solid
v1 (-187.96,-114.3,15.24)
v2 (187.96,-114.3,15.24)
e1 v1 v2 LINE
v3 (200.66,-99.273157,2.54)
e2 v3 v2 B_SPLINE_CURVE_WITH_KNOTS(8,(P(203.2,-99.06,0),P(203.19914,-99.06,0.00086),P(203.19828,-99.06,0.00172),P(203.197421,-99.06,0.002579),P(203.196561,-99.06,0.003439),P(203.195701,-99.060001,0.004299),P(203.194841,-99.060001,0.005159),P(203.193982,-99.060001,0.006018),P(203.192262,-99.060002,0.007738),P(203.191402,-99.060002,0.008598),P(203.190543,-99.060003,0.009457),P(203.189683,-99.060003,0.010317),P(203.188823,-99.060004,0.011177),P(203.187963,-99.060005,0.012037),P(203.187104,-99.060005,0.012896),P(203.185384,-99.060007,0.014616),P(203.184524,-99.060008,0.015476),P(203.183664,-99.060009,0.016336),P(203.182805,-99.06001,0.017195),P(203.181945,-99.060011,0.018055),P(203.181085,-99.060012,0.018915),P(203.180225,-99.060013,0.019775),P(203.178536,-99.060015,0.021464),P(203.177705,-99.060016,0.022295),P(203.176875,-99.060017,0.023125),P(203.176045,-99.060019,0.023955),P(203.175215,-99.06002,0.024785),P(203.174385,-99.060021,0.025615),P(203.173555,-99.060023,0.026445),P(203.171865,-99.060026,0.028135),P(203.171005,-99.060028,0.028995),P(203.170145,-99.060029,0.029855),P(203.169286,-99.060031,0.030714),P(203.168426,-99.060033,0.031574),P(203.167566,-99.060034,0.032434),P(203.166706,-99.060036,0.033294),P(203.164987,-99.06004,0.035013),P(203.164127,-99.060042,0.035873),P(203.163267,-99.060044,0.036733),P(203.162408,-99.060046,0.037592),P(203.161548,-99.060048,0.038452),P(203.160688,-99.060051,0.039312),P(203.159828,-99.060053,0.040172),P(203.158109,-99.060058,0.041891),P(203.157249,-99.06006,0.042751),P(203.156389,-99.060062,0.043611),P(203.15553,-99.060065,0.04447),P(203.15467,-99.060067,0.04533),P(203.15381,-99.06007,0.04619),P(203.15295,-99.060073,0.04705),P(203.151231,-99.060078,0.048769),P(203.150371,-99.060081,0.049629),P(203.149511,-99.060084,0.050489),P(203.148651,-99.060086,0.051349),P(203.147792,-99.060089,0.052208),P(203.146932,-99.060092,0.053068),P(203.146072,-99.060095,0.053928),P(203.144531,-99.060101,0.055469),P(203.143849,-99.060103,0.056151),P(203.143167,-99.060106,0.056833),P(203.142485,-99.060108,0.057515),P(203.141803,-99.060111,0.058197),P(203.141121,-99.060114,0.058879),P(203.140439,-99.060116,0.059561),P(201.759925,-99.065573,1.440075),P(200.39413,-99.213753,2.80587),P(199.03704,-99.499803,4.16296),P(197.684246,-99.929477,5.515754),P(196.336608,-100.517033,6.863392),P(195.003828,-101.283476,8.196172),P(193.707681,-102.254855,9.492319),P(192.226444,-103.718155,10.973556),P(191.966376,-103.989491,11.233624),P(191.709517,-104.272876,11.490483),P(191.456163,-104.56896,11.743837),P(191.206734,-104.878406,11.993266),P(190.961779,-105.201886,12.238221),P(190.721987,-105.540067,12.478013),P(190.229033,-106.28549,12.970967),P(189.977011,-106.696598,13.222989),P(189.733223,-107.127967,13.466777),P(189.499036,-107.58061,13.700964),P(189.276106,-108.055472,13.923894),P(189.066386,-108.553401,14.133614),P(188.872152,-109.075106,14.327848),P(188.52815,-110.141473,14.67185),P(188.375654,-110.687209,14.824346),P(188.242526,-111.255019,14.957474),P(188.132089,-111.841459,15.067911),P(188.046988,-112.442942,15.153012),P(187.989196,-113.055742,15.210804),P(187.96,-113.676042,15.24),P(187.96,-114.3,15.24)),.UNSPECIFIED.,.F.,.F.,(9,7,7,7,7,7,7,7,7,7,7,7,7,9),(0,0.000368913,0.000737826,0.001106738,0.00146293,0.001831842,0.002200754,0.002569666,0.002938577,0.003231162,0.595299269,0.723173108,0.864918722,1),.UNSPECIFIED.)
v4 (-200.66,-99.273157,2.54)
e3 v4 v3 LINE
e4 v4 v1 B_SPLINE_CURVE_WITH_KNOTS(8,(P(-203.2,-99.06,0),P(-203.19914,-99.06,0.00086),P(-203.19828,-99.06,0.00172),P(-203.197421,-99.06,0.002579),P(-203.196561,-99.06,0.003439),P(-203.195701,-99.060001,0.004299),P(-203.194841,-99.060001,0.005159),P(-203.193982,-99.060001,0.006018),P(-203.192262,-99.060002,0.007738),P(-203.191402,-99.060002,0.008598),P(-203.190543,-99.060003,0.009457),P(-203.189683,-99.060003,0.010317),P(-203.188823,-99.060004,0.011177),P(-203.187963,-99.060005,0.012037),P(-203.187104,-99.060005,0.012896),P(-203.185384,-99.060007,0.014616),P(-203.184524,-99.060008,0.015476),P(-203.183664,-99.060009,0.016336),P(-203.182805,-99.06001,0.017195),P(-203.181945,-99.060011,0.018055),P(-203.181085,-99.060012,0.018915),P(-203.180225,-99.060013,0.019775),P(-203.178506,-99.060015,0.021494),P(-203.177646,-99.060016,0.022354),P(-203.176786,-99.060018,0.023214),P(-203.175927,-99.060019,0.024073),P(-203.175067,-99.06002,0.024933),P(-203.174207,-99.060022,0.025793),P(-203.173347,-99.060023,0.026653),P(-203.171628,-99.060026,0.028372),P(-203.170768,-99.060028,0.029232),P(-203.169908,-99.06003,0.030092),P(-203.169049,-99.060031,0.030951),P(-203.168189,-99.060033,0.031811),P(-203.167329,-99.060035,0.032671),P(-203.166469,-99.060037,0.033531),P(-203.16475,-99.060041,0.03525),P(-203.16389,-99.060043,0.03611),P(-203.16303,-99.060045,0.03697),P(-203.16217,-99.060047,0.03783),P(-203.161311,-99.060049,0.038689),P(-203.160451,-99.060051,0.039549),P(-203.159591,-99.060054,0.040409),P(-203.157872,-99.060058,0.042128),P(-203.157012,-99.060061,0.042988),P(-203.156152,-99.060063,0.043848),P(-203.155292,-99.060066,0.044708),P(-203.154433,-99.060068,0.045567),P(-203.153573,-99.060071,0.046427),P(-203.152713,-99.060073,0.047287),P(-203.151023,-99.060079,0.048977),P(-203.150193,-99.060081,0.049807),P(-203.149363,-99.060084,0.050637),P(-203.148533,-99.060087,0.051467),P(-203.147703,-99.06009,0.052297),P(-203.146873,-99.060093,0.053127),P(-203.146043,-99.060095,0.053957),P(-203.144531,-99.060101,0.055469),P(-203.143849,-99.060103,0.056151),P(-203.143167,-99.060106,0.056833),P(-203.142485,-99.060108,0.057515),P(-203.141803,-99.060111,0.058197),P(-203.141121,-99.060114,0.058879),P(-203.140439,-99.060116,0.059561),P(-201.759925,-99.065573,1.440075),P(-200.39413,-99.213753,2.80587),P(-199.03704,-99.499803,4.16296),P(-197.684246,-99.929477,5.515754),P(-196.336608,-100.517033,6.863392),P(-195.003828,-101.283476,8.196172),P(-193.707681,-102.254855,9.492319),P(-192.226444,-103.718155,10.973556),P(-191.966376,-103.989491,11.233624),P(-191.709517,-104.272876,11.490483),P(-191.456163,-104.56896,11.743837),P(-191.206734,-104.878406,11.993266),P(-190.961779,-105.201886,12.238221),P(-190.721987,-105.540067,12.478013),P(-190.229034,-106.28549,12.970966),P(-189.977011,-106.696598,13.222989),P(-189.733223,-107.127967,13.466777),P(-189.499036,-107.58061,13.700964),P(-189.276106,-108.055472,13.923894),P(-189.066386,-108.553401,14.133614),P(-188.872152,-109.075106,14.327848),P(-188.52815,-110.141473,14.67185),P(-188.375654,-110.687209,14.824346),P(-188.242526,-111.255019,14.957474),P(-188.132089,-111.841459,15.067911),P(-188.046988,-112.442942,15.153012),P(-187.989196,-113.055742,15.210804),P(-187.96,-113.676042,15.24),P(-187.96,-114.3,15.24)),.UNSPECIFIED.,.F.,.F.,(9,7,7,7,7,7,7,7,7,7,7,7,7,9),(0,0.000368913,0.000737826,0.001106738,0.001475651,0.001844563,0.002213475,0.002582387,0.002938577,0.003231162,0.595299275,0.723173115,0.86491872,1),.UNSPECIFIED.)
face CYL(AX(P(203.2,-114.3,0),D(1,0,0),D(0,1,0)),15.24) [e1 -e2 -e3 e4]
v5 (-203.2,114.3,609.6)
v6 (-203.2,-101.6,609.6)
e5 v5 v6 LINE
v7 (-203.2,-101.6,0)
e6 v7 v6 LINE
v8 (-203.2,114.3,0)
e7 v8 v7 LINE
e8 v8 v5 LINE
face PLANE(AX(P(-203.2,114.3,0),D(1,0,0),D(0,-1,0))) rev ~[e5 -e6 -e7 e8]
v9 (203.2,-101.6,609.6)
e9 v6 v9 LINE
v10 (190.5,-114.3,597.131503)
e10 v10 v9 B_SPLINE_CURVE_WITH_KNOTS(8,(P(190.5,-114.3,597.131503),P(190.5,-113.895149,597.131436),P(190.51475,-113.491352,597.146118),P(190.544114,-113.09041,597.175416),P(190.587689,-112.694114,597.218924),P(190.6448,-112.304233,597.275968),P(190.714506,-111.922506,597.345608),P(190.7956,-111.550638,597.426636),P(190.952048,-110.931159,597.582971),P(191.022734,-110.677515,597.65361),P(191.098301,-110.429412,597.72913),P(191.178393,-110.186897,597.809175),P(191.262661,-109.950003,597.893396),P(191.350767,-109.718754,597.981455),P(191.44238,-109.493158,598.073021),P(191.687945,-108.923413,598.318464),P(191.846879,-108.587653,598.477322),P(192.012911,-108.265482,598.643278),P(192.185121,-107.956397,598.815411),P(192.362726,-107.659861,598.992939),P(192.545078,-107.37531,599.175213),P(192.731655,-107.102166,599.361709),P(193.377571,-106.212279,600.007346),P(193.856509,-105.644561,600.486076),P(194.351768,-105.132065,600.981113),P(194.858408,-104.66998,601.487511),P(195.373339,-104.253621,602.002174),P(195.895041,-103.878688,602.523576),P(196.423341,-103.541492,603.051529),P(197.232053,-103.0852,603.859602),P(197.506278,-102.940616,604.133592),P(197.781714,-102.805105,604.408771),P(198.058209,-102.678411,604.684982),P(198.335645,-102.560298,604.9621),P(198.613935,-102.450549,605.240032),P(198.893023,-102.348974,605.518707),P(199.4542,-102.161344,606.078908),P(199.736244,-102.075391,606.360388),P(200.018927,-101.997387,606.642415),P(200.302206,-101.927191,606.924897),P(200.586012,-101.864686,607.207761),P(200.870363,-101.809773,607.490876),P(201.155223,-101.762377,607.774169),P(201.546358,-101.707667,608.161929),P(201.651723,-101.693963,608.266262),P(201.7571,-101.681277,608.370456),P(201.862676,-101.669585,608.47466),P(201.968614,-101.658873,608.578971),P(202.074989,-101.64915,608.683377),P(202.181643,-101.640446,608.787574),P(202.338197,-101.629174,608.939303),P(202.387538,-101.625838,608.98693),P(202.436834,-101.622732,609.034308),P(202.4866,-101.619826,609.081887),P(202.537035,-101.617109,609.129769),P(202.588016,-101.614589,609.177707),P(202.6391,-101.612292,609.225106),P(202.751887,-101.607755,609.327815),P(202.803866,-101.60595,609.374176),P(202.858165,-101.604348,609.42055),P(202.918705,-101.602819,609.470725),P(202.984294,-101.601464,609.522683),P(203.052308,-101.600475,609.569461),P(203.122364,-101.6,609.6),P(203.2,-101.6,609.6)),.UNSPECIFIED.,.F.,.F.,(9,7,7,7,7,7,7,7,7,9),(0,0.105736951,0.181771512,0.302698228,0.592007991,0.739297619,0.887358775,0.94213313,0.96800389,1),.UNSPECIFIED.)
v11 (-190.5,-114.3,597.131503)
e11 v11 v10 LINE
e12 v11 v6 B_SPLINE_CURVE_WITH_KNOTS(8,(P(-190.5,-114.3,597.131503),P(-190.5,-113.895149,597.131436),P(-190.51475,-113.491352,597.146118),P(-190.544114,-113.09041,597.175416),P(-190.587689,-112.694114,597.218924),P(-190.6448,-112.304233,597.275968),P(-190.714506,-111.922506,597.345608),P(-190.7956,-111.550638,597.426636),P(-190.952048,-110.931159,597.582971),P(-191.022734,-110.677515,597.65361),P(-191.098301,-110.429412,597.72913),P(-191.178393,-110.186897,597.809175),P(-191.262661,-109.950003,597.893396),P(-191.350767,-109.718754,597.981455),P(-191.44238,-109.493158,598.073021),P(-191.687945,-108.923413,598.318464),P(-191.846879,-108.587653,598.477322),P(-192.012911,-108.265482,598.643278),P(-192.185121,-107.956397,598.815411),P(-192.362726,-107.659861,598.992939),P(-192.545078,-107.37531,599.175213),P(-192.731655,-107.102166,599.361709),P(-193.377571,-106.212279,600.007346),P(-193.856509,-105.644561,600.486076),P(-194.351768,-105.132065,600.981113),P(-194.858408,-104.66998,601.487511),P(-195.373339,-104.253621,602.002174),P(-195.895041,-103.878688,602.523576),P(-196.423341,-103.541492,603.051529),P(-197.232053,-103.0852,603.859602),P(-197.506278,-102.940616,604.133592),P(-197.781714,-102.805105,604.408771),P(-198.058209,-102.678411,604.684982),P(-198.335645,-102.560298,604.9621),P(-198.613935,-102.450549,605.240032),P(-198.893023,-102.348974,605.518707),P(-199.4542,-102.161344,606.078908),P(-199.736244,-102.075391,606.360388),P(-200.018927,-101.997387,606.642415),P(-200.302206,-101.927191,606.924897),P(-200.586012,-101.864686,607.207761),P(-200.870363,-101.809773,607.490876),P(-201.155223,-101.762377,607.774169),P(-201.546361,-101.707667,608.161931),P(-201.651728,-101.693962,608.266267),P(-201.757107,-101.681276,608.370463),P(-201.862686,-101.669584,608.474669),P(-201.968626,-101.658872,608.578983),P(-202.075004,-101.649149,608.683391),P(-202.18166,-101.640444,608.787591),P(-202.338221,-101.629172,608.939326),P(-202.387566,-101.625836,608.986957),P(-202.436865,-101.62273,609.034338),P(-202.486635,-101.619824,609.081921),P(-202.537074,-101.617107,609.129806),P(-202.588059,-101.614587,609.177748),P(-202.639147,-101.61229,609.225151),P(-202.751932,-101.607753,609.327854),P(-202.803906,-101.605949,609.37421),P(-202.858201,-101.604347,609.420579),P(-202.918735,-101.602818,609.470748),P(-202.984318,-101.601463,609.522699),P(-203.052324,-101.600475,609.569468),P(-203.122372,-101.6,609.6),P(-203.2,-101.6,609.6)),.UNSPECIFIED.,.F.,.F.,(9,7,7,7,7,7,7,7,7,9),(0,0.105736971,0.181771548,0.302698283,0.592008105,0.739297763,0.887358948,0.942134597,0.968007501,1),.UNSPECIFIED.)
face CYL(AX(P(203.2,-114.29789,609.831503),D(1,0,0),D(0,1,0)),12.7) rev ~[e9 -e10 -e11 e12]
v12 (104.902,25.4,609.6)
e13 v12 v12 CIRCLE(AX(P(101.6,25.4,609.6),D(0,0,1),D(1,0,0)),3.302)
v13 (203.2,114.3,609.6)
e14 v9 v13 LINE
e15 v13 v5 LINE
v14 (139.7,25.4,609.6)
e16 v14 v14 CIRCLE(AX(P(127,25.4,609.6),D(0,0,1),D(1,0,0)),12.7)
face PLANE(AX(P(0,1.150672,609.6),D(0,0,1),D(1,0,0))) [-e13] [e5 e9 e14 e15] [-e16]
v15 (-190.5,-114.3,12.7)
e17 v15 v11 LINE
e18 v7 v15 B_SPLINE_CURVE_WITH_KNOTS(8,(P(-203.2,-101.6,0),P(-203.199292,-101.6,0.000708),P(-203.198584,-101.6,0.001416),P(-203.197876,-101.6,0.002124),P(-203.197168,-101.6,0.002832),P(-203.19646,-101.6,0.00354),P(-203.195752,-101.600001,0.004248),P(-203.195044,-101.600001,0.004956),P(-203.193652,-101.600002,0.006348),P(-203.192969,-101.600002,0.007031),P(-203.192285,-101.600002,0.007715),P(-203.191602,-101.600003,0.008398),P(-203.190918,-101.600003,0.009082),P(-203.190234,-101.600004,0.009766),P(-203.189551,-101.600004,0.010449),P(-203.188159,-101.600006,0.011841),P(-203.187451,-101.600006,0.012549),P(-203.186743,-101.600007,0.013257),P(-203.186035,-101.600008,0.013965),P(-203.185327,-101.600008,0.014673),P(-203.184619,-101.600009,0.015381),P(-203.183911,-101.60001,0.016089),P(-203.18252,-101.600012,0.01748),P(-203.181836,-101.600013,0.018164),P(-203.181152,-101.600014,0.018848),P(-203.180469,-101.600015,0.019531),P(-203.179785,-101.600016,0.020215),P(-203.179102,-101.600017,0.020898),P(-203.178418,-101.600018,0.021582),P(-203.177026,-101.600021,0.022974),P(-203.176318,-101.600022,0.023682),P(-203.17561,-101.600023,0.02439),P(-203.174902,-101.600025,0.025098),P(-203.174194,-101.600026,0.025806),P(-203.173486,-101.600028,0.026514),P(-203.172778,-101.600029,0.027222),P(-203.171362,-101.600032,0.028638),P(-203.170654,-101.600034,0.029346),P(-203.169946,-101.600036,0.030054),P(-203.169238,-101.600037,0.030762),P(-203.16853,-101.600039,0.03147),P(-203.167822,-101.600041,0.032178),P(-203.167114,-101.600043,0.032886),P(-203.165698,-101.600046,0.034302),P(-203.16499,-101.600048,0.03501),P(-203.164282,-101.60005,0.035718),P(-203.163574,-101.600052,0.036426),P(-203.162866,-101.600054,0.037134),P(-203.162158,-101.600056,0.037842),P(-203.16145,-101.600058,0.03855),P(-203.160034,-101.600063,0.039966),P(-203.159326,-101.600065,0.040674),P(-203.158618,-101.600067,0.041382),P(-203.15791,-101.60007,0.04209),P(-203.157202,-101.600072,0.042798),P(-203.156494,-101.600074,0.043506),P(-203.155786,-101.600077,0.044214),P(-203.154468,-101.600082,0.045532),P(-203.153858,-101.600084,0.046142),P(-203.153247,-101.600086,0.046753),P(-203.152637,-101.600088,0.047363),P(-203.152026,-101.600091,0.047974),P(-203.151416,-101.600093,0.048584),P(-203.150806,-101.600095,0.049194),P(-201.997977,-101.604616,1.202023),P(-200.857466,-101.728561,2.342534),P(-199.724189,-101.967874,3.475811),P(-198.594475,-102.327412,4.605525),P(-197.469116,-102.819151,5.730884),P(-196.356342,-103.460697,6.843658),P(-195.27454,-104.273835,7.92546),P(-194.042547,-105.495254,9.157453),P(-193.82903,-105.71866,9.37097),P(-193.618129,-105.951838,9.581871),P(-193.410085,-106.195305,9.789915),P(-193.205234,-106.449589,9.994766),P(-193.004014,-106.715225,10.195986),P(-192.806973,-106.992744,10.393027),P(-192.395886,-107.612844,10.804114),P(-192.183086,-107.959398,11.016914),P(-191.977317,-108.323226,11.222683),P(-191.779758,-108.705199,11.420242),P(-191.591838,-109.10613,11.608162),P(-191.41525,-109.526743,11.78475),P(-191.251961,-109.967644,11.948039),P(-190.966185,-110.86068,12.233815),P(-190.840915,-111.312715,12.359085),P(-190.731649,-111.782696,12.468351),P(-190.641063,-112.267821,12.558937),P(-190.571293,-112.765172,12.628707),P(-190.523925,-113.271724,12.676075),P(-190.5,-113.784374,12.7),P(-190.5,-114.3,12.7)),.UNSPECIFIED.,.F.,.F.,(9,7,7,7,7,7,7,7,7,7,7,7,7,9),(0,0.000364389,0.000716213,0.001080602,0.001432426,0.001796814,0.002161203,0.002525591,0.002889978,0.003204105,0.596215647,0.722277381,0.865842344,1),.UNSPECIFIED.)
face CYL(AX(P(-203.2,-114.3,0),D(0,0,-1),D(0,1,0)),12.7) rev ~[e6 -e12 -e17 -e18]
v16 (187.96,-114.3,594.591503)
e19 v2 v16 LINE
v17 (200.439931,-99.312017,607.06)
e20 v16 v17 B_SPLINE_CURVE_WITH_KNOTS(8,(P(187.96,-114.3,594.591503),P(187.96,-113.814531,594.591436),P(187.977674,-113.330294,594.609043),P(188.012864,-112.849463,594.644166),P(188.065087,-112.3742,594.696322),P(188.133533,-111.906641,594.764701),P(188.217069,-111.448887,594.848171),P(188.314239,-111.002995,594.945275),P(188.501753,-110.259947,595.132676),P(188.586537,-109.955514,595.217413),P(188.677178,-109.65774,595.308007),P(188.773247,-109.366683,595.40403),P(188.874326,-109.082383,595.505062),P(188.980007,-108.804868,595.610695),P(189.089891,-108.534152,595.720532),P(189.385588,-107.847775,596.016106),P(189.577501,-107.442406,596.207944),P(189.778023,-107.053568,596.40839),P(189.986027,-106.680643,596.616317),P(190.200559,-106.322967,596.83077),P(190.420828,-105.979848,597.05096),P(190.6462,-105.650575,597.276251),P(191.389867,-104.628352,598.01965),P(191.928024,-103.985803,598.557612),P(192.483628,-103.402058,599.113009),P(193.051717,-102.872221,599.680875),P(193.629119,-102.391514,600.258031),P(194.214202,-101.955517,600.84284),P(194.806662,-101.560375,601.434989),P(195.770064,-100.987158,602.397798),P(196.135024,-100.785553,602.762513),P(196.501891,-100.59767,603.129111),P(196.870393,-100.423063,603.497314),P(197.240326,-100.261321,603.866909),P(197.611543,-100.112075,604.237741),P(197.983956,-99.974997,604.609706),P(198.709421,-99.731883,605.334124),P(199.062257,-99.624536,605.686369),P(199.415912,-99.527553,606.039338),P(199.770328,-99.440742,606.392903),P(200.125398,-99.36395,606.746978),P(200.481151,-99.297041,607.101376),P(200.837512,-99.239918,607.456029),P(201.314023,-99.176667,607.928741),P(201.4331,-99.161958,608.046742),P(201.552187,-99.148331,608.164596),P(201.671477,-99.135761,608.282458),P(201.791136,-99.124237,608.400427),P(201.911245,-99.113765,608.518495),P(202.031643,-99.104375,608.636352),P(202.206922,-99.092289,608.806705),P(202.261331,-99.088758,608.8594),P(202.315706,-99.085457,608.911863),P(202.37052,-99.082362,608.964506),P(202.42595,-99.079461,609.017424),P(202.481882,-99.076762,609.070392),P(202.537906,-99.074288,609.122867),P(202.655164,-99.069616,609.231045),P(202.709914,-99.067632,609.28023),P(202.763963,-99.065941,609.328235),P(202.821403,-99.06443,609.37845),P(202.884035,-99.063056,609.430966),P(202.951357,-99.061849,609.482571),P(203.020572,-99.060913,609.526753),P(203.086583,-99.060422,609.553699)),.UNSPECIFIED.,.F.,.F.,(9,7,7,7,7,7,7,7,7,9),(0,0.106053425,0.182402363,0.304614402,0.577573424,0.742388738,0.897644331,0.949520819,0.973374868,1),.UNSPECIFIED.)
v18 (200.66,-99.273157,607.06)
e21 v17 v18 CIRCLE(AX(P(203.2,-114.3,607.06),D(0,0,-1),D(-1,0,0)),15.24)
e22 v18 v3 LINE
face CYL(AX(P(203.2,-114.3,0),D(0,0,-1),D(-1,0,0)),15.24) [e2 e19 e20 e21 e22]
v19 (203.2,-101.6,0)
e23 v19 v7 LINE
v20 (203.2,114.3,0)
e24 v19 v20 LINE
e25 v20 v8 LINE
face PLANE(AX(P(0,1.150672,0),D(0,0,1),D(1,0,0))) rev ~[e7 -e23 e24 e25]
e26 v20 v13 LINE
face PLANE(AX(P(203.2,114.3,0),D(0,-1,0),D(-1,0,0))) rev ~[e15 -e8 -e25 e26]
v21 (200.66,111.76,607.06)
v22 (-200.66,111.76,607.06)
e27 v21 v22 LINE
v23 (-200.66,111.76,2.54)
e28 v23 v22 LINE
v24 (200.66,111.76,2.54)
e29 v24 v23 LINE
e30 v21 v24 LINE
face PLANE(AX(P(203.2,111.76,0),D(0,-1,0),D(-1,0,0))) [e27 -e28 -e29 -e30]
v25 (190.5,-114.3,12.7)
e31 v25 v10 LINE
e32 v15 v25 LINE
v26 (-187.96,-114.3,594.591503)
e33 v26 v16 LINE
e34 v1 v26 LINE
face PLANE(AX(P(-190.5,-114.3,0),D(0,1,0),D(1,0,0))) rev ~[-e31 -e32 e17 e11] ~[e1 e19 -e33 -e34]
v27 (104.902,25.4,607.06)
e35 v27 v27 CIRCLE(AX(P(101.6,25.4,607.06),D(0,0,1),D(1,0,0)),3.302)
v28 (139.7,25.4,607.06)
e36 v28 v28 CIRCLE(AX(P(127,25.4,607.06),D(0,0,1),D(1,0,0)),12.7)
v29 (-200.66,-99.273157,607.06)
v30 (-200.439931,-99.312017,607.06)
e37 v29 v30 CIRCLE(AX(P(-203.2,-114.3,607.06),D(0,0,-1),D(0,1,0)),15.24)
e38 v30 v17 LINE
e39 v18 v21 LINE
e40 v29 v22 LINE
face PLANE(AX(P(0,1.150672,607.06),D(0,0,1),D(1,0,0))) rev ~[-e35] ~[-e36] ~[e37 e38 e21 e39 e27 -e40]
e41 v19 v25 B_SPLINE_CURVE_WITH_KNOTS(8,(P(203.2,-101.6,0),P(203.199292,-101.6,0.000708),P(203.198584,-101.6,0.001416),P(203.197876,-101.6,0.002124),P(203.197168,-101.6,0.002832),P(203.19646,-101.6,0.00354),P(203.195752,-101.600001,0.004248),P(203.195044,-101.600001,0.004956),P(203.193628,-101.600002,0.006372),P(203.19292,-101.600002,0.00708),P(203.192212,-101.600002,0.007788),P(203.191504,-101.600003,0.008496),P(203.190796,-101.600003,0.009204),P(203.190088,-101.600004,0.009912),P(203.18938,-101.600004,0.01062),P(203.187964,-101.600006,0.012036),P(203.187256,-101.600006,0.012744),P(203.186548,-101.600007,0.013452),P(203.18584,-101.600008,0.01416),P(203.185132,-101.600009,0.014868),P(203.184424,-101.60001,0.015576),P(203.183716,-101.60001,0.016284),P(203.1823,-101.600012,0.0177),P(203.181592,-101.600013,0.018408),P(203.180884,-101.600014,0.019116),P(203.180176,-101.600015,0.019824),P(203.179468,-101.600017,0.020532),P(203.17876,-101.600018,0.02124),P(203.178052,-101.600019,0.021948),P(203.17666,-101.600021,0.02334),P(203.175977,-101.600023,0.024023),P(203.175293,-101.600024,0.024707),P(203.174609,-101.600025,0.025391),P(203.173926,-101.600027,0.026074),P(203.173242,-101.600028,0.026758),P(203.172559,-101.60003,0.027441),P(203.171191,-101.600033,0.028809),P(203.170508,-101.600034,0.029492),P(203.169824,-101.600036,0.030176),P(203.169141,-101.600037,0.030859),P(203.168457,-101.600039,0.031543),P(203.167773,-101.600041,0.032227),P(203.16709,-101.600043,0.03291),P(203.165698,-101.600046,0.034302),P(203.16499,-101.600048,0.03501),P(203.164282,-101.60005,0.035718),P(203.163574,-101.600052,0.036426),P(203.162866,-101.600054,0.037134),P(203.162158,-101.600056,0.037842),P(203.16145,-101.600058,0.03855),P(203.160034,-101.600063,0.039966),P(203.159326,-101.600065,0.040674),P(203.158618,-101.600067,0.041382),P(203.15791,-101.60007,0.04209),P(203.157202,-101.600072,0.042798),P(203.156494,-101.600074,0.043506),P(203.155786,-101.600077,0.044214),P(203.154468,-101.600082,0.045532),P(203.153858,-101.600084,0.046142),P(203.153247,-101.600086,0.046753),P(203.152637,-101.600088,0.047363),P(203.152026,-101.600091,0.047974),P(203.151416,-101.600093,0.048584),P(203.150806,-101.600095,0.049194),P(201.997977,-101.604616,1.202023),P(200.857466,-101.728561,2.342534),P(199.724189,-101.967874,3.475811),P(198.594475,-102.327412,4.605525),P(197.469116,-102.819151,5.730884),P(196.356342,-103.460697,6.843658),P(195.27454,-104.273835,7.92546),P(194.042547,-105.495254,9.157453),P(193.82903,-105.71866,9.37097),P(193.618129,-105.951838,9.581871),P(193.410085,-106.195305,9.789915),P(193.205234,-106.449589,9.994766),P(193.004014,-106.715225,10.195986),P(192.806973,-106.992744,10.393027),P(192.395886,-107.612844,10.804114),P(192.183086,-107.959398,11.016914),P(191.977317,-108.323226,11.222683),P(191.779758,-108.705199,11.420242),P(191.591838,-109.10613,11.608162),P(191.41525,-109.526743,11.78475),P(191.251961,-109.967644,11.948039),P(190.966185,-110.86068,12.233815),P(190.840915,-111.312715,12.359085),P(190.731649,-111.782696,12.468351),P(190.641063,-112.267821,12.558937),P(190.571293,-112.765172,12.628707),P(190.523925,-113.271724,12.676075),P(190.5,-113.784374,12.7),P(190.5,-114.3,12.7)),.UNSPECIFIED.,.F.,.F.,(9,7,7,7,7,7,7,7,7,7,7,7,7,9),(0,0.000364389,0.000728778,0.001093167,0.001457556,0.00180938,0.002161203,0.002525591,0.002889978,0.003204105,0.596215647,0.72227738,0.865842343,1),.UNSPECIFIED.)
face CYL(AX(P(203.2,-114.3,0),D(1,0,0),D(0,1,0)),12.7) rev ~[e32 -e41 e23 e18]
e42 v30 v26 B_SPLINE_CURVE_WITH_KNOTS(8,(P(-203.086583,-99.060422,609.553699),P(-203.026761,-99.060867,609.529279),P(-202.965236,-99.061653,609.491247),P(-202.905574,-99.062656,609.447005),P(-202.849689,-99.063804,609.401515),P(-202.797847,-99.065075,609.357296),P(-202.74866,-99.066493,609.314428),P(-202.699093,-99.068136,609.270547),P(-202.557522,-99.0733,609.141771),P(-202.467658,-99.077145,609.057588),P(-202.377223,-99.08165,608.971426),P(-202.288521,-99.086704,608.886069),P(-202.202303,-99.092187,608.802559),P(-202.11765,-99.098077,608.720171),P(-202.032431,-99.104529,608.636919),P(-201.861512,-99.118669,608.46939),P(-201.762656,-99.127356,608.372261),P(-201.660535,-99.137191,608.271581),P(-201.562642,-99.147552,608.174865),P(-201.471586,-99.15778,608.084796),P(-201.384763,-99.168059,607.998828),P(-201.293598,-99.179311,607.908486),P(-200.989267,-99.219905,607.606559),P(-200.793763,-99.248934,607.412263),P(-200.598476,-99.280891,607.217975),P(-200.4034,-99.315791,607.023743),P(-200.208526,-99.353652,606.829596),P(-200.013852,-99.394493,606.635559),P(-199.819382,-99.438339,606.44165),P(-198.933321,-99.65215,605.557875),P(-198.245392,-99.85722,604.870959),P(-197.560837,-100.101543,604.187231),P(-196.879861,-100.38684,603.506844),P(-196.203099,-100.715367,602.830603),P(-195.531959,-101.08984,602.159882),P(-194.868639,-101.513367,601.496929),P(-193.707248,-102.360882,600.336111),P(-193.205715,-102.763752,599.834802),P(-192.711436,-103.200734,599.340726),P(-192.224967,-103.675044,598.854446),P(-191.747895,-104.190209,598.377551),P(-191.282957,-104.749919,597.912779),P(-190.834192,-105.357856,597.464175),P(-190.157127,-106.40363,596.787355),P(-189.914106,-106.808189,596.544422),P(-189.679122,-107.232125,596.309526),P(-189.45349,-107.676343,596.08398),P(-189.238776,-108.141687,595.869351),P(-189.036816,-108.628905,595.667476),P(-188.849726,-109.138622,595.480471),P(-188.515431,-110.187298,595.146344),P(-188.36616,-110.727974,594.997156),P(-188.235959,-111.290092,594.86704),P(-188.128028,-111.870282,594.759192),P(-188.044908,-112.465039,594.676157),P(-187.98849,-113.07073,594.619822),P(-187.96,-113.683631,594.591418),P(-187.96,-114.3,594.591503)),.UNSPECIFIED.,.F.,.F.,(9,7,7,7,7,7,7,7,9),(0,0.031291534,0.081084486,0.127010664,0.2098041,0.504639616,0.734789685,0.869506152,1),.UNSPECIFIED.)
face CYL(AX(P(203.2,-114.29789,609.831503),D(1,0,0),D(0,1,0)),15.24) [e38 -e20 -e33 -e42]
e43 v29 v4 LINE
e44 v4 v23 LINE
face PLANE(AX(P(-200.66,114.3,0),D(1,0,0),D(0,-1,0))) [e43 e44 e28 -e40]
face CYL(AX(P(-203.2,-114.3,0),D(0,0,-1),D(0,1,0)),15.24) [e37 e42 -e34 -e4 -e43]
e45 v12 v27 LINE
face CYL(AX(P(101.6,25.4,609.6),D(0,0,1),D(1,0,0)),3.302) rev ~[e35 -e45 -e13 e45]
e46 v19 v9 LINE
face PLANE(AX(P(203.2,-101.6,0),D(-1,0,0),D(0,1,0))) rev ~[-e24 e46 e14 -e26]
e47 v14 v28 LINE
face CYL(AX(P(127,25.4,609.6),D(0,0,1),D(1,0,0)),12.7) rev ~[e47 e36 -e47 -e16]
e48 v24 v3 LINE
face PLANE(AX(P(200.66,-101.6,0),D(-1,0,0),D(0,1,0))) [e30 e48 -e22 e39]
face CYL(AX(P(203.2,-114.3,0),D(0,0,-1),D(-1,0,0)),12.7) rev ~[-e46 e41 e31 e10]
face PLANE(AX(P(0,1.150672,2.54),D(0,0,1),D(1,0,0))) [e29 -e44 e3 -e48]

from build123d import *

# Parameters (mm, degrees)
F1_DEPTH = 609.6
F2_R     = 12.7
F3_DEPTH = 406.401
F4_T     = -2.54
F5_R     = 12.7
F5_R_2   = 3.302
F6_DEPTH = 25.4


with BuildPart() as f1:
    # F0 (on Top) → F1 (new body)
    with BuildSketch(Plane.XY):
        with BuildLine():
            Line((203.2, -101.6), (203.2, 114.3))
            Line((203.2, 114.3), (-203.2, 114.3))
            Line((-203.2, 114.3), (-203.2, -101.6))
            ThreePointArc((-203.2, -101.6), (-194.2197438789, -105.3197438789), (-190.5, -114.3))
            Line((-190.5, -114.3), (190.5, -114.3))
            ThreePointArc((190.5, -114.3), (194.2197438789, -105.3197438789), (203.2, -101.6))
        make_face()
    extrude(amount=F1_DEPTH)

    # F2 (on face) → F3 (cut, through all)
    with BuildSketch(Plane.YZ.offset(203.2)):
        with Locations((-114.2978898402, 609.8315029268)):
            Circle(F2_R)
        with Locations((-114.3, 0)):
            Circle(F2_R)
    extrude(amount=-F3_DEPTH, mode=Mode.SUBTRACT)

    # F4
    f4_openings = [f1.faces().sort_by_distance(p)[0] for p in [
        (0, -114.3, 304.915752),
    ]]
    offset(amount=F4_T, openings=f4_openings)

    # F5 (on face) → F6 (cut)
    with BuildSketch(Plane.XY.offset(609.6)):
        with Locations((127, 25.4)):
            Circle(F5_R)
        with Locations((101.6, 25.4)):
            Circle(F5_R_2)
    extrude(amount=-F6_DEPTH, mode=Mode.SUBTRACT)


solid = f1.part
